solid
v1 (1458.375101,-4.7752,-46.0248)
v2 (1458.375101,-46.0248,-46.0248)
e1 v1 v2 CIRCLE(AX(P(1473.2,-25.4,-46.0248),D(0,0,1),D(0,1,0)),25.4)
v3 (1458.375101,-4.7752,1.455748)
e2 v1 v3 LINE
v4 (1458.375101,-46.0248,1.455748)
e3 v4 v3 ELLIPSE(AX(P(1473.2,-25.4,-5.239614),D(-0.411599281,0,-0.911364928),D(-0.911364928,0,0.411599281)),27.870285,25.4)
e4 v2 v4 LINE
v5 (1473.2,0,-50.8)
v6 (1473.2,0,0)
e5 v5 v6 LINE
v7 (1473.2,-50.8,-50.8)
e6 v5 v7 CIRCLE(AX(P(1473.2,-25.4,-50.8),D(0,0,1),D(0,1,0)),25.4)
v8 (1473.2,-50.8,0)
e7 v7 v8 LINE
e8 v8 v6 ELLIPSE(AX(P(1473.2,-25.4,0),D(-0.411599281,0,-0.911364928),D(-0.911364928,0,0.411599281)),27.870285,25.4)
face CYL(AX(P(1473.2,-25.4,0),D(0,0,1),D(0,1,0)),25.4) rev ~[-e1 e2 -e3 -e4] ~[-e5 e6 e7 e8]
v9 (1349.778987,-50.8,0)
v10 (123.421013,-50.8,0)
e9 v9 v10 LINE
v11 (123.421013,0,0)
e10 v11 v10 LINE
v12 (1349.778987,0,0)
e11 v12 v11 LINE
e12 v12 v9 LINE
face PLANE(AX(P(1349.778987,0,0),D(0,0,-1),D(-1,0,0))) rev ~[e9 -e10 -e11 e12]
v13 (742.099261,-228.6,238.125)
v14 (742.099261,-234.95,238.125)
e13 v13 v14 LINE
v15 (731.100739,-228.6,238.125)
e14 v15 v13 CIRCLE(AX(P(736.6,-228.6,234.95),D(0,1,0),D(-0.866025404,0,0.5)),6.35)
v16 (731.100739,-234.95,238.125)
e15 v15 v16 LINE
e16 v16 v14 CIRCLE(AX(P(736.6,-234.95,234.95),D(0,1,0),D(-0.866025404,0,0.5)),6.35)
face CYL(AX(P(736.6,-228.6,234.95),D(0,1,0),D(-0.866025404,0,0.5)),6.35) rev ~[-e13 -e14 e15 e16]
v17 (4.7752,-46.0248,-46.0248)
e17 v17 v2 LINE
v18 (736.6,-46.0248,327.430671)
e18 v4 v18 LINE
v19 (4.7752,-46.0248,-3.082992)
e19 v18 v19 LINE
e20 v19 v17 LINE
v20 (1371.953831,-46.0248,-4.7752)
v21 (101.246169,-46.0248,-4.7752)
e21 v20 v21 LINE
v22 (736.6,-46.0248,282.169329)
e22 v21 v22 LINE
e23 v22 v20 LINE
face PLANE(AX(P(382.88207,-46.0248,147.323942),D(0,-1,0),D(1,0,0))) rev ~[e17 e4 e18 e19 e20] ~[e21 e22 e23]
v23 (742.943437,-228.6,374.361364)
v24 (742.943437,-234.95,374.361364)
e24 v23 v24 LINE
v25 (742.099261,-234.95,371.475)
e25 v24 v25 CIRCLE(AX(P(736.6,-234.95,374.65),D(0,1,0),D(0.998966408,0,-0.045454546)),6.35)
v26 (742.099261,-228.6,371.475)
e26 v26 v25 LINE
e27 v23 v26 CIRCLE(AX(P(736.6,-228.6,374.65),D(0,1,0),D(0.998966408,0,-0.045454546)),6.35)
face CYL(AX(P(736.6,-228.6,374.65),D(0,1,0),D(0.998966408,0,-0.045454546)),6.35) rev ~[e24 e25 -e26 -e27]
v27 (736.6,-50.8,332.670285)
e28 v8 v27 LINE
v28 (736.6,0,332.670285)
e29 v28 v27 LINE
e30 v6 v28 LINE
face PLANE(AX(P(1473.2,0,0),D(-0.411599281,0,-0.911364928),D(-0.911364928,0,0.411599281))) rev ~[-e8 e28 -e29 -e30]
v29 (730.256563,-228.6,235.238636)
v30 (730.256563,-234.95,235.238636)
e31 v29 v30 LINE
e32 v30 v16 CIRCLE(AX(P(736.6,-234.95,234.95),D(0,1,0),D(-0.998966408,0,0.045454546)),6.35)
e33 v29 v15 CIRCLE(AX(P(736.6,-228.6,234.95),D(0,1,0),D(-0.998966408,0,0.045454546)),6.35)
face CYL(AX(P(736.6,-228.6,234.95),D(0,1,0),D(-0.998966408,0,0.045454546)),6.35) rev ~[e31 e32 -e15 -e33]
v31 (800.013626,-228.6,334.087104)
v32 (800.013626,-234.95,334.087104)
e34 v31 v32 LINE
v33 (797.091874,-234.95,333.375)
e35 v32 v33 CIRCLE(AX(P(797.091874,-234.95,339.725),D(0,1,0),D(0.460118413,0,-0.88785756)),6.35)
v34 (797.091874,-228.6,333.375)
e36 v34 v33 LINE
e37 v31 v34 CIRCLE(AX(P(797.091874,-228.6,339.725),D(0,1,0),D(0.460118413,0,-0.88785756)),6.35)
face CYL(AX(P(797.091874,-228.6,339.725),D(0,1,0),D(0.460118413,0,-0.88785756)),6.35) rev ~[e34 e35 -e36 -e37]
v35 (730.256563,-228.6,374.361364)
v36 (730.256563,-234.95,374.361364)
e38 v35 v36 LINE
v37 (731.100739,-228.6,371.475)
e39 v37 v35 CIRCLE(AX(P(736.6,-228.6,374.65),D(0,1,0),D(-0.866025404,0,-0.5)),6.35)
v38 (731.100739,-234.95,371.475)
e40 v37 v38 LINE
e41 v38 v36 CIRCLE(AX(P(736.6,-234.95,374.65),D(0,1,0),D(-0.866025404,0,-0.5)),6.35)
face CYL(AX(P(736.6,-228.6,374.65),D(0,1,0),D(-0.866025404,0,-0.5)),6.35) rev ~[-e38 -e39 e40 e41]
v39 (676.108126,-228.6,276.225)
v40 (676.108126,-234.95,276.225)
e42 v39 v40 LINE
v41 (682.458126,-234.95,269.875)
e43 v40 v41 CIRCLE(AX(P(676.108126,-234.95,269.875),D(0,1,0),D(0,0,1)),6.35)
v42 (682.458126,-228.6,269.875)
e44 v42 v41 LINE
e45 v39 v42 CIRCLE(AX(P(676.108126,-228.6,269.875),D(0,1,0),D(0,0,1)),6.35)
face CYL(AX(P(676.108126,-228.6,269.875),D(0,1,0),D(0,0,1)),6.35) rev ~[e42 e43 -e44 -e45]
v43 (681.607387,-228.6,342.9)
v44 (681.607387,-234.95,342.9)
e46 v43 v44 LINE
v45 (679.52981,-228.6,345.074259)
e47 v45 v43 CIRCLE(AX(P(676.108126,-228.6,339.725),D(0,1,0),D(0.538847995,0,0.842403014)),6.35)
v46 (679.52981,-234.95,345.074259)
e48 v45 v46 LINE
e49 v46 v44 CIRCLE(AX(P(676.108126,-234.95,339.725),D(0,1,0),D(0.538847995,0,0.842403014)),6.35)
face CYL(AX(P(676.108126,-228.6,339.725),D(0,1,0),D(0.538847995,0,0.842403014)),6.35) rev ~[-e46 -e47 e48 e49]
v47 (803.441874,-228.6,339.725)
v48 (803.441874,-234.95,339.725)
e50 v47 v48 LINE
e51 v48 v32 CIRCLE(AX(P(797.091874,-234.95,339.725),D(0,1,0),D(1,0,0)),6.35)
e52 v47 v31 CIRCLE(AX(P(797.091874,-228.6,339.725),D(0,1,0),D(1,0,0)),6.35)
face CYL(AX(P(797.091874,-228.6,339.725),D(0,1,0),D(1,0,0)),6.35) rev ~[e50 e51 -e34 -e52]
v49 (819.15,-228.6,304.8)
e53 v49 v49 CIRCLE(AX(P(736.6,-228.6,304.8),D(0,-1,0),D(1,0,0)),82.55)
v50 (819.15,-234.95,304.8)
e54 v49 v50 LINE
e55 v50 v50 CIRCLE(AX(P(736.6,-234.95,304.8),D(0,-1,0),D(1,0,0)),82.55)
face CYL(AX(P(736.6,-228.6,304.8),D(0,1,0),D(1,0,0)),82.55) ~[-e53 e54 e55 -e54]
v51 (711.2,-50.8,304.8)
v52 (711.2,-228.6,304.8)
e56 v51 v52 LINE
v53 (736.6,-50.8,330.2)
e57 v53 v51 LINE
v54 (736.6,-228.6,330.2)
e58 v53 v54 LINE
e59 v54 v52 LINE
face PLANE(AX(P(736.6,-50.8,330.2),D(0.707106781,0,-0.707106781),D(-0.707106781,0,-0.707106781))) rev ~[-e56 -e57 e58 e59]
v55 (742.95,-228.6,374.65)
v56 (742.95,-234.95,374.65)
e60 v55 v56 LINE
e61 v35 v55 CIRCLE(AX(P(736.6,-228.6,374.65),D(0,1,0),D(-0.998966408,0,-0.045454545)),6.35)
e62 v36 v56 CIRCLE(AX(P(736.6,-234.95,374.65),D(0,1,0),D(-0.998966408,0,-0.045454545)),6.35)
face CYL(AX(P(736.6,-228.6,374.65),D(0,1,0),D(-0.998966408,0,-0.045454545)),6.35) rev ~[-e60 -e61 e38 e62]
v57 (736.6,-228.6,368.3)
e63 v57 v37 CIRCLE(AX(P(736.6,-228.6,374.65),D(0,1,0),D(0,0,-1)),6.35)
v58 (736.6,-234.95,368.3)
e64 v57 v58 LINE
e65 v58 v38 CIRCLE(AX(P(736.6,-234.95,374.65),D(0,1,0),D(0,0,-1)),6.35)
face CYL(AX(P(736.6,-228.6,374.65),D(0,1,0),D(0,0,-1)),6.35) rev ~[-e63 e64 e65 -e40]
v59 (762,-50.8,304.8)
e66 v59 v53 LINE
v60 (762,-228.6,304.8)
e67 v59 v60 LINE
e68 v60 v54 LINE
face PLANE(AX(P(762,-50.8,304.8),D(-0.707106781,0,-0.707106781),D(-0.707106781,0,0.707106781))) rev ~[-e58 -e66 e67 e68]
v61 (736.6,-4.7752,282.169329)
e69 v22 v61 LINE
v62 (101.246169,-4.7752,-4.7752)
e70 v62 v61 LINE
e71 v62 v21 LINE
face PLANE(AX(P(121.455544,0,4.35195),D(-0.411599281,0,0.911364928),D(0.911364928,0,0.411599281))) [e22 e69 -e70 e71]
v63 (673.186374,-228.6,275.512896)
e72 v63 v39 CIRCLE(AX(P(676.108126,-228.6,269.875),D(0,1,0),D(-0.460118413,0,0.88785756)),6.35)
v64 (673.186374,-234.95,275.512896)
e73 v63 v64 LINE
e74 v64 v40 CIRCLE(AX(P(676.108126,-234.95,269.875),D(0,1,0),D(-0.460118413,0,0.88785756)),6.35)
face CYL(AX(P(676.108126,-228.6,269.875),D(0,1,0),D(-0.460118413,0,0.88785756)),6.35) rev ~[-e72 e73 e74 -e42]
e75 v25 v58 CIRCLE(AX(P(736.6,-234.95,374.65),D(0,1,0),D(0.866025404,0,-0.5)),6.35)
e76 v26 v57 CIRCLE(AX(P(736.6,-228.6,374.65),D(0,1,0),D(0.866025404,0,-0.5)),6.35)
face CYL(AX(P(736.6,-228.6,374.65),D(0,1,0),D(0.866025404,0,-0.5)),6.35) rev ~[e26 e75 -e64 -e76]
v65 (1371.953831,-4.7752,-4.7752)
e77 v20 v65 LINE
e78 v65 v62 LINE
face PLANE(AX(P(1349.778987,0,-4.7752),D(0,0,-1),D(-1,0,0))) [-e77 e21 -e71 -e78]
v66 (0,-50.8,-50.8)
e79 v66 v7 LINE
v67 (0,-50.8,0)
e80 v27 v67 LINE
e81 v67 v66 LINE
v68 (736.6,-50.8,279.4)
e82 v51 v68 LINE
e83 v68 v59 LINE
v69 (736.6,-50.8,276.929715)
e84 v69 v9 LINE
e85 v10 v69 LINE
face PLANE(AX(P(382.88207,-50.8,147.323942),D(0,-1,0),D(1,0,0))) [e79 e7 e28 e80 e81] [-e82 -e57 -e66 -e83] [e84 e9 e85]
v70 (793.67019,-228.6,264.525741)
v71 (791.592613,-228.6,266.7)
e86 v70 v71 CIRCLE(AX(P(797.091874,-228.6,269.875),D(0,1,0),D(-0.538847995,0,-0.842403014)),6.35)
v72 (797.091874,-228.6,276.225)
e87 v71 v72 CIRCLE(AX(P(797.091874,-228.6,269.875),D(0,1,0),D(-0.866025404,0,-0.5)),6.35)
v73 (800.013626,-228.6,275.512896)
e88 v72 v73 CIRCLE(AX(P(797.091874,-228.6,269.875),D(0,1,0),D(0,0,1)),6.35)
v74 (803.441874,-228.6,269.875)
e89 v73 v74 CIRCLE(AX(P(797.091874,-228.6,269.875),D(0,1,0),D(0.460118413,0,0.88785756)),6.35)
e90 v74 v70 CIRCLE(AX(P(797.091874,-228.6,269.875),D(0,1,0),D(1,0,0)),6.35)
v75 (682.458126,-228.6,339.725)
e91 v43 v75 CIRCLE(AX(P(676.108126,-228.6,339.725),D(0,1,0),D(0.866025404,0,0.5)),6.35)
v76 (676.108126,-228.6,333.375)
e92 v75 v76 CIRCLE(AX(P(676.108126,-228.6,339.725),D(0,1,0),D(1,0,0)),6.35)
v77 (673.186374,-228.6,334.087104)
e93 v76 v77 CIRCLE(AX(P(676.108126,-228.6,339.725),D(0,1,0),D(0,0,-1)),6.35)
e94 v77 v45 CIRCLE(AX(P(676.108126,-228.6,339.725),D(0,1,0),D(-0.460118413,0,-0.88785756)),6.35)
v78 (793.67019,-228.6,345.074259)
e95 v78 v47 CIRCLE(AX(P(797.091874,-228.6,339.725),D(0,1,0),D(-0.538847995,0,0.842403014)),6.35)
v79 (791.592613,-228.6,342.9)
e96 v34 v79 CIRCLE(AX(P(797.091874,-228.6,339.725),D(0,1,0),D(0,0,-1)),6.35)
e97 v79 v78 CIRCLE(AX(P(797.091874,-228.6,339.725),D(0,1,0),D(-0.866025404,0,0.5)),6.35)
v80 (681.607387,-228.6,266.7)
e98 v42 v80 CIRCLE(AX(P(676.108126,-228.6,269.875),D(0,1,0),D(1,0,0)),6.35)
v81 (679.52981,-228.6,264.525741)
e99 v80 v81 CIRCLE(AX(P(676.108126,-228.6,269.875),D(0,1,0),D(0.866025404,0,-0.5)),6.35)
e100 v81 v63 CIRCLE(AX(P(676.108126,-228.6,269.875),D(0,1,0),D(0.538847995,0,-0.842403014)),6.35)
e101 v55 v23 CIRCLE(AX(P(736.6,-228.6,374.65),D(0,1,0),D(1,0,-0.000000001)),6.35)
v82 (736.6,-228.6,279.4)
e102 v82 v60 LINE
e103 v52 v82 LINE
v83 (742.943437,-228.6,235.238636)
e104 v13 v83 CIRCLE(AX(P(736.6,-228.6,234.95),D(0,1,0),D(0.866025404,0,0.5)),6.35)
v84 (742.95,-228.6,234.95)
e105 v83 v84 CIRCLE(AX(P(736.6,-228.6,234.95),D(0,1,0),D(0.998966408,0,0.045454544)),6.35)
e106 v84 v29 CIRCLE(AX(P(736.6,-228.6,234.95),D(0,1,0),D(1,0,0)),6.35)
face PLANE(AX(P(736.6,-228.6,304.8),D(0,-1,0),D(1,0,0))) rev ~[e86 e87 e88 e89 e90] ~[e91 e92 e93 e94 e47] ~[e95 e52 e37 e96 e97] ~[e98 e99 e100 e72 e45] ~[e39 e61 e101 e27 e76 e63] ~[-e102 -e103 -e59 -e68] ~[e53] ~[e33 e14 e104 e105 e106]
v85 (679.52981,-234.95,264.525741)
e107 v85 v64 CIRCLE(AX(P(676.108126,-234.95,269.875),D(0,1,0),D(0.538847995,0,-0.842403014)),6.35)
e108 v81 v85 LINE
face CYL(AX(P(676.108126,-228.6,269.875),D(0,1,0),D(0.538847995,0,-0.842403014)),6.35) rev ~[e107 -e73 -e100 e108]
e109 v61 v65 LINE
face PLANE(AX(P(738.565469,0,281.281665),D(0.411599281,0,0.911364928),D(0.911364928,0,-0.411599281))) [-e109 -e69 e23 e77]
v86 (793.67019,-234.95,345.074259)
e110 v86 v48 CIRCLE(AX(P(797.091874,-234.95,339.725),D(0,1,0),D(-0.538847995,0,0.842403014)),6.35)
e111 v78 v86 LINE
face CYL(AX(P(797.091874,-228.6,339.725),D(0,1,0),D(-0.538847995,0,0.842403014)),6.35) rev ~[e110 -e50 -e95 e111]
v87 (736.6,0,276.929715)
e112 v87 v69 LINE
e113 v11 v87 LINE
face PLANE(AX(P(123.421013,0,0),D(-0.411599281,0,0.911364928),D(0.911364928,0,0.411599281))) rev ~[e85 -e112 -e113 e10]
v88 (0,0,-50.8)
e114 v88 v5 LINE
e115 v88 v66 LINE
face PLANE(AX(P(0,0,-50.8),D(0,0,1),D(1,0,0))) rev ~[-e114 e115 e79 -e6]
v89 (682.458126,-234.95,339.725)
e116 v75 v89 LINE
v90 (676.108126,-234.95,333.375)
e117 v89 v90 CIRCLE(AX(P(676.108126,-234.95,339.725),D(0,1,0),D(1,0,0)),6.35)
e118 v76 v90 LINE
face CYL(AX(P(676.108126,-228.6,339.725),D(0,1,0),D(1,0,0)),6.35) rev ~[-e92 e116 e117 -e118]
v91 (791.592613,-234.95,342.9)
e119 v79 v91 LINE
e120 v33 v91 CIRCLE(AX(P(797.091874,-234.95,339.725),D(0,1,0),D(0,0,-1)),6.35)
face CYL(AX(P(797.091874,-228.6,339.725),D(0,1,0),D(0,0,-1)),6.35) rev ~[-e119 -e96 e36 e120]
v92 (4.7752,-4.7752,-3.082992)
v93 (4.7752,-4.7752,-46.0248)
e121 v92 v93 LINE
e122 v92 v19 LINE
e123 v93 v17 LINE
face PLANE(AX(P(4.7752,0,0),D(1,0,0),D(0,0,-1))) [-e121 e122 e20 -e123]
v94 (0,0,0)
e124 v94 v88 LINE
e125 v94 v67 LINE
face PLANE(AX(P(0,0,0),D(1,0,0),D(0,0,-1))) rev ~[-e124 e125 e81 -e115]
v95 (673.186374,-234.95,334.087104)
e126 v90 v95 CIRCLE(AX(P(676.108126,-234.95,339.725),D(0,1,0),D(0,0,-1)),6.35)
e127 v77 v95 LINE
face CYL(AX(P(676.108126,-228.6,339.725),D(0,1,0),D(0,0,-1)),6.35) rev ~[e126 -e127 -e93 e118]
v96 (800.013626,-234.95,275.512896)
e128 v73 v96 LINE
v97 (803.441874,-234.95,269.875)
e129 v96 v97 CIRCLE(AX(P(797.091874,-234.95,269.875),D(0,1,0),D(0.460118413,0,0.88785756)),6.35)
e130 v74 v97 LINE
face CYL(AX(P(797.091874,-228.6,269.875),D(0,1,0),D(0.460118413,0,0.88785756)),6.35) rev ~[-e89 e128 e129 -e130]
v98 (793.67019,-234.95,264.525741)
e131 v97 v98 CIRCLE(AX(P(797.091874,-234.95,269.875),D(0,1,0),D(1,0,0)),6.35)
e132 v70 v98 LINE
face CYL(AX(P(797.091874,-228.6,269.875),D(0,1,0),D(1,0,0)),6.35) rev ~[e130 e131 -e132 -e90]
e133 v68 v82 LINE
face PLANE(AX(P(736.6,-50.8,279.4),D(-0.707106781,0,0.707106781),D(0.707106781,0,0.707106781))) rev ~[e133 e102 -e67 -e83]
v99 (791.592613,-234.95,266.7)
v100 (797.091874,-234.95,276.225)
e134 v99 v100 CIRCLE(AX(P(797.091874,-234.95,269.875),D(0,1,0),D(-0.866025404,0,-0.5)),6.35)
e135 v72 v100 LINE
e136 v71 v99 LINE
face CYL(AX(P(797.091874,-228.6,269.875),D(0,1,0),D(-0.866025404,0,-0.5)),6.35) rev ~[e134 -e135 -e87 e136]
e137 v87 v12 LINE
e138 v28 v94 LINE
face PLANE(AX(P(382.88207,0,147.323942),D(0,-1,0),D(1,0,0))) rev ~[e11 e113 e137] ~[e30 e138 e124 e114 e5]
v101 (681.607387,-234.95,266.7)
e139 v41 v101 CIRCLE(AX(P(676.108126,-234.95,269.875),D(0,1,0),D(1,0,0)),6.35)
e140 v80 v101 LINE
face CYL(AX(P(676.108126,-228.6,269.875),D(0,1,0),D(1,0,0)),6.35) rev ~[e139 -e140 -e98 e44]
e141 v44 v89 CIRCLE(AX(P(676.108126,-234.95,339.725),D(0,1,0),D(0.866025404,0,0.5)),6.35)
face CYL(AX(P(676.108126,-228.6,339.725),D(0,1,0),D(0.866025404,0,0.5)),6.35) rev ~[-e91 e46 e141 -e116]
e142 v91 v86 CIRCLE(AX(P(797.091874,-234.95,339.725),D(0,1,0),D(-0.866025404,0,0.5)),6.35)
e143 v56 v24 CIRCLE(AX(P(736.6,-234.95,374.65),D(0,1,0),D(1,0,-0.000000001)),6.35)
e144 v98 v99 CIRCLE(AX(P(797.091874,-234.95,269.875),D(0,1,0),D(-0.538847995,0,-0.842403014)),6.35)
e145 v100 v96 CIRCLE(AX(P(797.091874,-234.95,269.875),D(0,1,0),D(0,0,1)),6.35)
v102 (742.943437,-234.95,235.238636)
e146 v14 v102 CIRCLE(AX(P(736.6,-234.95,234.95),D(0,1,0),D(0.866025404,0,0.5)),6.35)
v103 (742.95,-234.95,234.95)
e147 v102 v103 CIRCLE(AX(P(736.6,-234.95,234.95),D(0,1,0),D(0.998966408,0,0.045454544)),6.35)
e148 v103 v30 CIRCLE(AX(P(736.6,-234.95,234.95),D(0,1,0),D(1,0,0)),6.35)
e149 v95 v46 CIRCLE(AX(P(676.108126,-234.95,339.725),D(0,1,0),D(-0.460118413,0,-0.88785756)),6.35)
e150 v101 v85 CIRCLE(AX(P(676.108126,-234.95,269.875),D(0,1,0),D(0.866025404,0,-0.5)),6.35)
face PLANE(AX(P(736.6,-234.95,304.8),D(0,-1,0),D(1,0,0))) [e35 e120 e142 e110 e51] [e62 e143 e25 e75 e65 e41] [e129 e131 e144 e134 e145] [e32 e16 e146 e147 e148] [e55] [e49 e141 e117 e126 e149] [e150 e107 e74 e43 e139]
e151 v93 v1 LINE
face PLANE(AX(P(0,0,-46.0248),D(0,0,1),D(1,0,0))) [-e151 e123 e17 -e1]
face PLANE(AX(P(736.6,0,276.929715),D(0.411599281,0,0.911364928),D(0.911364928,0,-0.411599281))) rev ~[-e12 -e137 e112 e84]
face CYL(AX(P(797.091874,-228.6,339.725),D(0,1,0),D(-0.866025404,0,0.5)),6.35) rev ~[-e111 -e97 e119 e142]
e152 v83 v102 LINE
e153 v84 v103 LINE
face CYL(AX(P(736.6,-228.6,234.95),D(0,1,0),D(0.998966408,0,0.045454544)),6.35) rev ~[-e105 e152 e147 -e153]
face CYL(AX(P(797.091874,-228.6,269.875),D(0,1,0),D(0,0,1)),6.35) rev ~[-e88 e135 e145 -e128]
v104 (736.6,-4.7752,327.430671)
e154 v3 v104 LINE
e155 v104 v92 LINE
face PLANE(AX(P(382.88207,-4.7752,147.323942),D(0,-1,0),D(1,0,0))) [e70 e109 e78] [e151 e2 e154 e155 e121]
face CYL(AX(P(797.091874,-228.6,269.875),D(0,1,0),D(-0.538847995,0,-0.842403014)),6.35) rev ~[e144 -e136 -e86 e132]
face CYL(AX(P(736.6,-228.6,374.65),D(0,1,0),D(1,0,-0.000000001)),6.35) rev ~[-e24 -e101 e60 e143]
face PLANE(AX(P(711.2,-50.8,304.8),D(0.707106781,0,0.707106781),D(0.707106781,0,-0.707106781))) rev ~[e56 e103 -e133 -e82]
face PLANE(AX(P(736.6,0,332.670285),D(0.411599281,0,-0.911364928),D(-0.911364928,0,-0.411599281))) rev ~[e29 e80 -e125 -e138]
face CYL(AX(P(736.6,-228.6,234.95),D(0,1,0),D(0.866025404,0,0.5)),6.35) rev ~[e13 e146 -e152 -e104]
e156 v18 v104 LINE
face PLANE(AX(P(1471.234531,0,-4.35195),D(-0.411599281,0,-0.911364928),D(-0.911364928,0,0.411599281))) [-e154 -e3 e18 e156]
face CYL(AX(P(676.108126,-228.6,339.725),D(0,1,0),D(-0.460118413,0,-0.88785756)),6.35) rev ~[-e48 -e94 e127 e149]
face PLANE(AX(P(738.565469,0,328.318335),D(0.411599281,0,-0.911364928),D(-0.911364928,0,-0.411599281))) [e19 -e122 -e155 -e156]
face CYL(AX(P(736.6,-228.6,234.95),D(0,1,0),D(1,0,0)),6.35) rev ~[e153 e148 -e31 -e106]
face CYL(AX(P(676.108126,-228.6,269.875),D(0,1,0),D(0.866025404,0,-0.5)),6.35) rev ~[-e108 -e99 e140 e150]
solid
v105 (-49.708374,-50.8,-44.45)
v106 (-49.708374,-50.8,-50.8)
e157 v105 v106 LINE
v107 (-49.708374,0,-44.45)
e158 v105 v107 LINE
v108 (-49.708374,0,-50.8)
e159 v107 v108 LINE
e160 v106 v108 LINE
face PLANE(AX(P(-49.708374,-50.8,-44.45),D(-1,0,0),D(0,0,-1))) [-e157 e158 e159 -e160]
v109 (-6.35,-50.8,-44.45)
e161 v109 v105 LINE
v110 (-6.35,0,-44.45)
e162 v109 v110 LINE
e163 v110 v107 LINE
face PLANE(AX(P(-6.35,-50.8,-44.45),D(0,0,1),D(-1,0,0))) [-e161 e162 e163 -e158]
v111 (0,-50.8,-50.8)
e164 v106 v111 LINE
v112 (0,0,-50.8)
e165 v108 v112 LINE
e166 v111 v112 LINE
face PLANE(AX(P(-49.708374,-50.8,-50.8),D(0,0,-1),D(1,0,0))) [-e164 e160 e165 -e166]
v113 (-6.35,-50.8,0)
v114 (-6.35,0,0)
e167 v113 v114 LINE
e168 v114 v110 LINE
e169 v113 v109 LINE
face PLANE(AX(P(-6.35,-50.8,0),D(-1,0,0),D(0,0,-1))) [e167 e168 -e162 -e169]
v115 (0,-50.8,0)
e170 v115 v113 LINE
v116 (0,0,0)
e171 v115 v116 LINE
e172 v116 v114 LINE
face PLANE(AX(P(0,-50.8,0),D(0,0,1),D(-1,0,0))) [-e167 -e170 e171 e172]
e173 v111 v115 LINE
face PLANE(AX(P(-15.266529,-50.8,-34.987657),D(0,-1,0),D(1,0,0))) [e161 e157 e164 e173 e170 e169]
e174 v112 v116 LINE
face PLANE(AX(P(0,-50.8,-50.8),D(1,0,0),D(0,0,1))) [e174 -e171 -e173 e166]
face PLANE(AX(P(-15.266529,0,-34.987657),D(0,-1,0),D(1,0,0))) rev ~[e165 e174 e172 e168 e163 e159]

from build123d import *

# Parameters (mm, degrees)
F1_DEPTH  = 50.8
F2_T      = -4.7752
F4_DEPTH  = 50.8
F6_DEPTH  = 177.8
F7_R      = 82.55
F8_DEPTH  = 6.35
F10_DEPTH = 50.8


with BuildPart() as f1:
    # F0 (on Front) → F1 (new body)
    with BuildSketch(Plane.XZ):
        Polygon((736.6, 332.6702846865), (0, 0), (123.4210126066, 0), (736.6, 276.9297153135), align=None)
        Polygon((1473.2, 0), (736.6, 332.6702846865), (736.6, 276.9297153135), (1349.7789873934, 0), align=None)
        Polygon((123.4210126066, 0), (0, 0), (0, -50.8), (1473.2, -50.8), (1473.2, 0), (1349.7789873934, 0), align=None)
    extrude(amount=F1_DEPTH)

    # F2
    f2_openings = [f1.faces().sort_by_distance(p)[0] for p in [
        (1473.2, -25.4, -25.4),
    ]]
    offset(amount=F2_T, openings=f2_openings, kind=Kind.INTERSECTION)

    # F3 (on Top) → F4 (cut, symmetric)
    with BuildSketch(Plane.XY):
        with BuildLine():
            ThreePointArc((1473.2, 0), (1447.8, -25.4), (1473.2, -50.8))
            Line((1473.2, -50.8), (1473.2, 0))
        make_face()
        with BuildLine():
            Line((1473.2, 0), (1473.2, -50.8))
            ThreePointArc((1473.2, -50.8), (1491.1605122421, -43.3605122421), (1498.6, -25.4))
            ThreePointArc((1498.6, -25.4), (1491.1605122421, -7.4394877579), (1473.2, 0))
        make_face()
    extrude(amount=F4_DEPTH, both=True, mode=Mode.SUBTRACT)

    # F5 (on face) → F6 (join)
    with BuildSketch(Plane.XZ.offset(50.8)):
        Polygon((736.6, 279.4), (736.6, 304.8), (711.2, 304.8), align=None)
        Polygon((711.2, 304.8), (736.6, 304.8), (736.6, 330.2), align=None)
        Polygon((736.6, 330.2), (736.6, 304.8), (762, 304.8), align=None)
        Polygon((762, 304.8), (736.6, 304.8), (736.6, 279.4), align=None)
    extrude(amount=F6_DEPTH)

    # F7 (on face) → F8 (join)
    with BuildSketch(Plane.XZ.offset(228.6)):
        with Locations((736.6, 304.8)):
            Circle(F7_R)
        with BuildLine():
            ThreePointArc((742.95, 374.65), (742.9483589606, 374.5056445122), (742.9434366908, 374.3613636364))
            ThreePointArc((742.9434366908, 374.3613636364), (771.525, 365.2918744543), (793.6701896856, 345.0742591397))
            ThreePointArc((793.6701896856, 345.0742591397), (800.141038415, 345.2950178762), (803.4418744543, 339.725))
            ThreePointArc((803.4418744543, 339.725), (802.5175368427, 336.4258050001), (800.0136263764, 334.0871044967))
            ThreePointArc((800.0136263764, 334.0871044967), (804.8219330655, 319.7930099982), (806.45, 304.8))
            ThreePointArc((806.45, 304.8), (804.8219330655, 289.8069900018), (800.0136263764, 275.5128955033))
            ThreePointArc((800.0136263764, 275.5128955033), (802.5175368427, 273.1741949999), (803.4418744543, 269.875))
            ThreePointArc((803.4418744543, 269.875), (800.141038415, 264.3049821238), (793.6701896856, 264.5257408603))
            ThreePointArc((793.6701896856, 264.5257408603), (771.525, 244.3081255457), (742.9434366908, 235.2386363636))
            ThreePointArc((742.9434366908, 235.2386363636), (742.9483589606, 235.0943554878), (742.95, 234.95))
            ThreePointArc((742.95, 234.95), (736.4556445122, 228.6016410394), (730.2565633092, 235.2386363636))
            ThreePointArc((730.2565633092, 235.2386363636), (701.675, 244.3081255457), (679.5298103144, 264.5257408603))
            ThreePointArc((679.5298103144, 264.5257408603), (670.6088642316, 266.7), (673.1863736236, 275.5128955033))
            ThreePointArc((673.1863736236, 275.5128955033), (666.75, 304.8), (673.1863736236, 334.0871044967))
            ThreePointArc((673.1863736236, 334.0871044967), (670.6088642316, 342.9), (679.5298103144, 345.0742591397))
            ThreePointArc((679.5298103144, 345.0742591397), (701.675, 365.2918744543), (730.2565633092, 374.3613636364))
            ThreePointArc((730.2565633092, 374.3613636364), (736.4556445122, 380.9983589606), (742.95, 374.65))
        make_face(mode=Mode.SUBTRACT)
        with BuildLine():
            ThreePointArc((742.099261314, 371.475), (739.775, 369.150738686), (736.6, 368.3))
            ThreePointArc((736.6, 368.3), (733.425, 369.150738686), (731.100738686, 371.475))
            Line((731.100738686, 371.475), (681.6073868597, 342.9))
            ThreePointArc((681.6073868597, 342.9), (682.2417545426, 341.3685009364), (682.4581255457, 339.725))
            ThreePointArc((682.4581255457, 339.725), (680.5982536062, 335.2348719395), (676.1081255457, 333.375))
            Line((676.1081255457, 333.375), (676.1081255457, 276.225))
            ThreePointArc((676.1081255457, 276.225), (680.5982536062, 274.3651280605), (682.4581255457, 269.875))
            ThreePointArc((682.4581255457, 269.875), (682.2417545426, 268.2314990636), (681.6073868597, 266.7))
            Line((681.6073868597, 266.7), (731.100738686, 238.125))
            ThreePointArc((731.100738686, 238.125), (736.6, 241.3), (742.099261314, 238.125))
            Line((742.099261314, 238.125), (791.5926131403, 266.7))
            ThreePointArc((791.5926131403, 266.7), (791.5926131403, 273.05), (797.0918744543, 276.225))
            Line((797.0918744543, 276.225), (797.0918744543, 333.375))
            ThreePointArc((797.0918744543, 333.375), (791.5926131403, 336.55), (791.5926131403, 342.9))
            Line((791.5926131403, 342.9), (742.099261314, 371.475))
        make_face()
        Polygon((736.6, 279.4), (711.2, 304.8), (736.6, 330.2), (762, 304.8), align=None, mode=Mode.SUBTRACT)
        Polygon((736.6, 330.2), (711.2, 304.8), (736.6, 279.4), (762, 304.8), align=None)
        with BuildLine():
            Line((681.6073868597, 342.9), (731.100738686, 371.475))
            ThreePointArc((731.100738686, 371.475), (730.5053180749, 372.867487102), (730.2565633092, 374.3613636364))
            ThreePointArc((730.2565633092, 374.3613636364), (701.675, 365.2918744543), (679.5298103144, 345.0742591397))
            ThreePointArc((679.5298103144, 345.0742591397), (680.6991679605, 344.1118929261), (681.6073868597, 342.9))
        make_face()
        with BuildLine():
            ThreePointArc((742.9434366908, 374.3613636364), (742.6946819251, 372.867487102), (742.099261314, 371.475))
            Line((742.099261314, 371.475), (791.5926131403, 342.9))
            ThreePointArc((791.5926131403, 342.9), (792.5008320395, 344.1118929261), (793.6701896856, 345.0742591397))
            ThreePointArc((793.6701896856, 345.0742591397), (771.525, 365.2918744543), (742.9434366908, 374.3613636364))
        make_face()
        with BuildLine():
            ThreePointArc((800.0136263764, 334.0871044967), (798.5955139647, 333.5555941759), (797.0918744543, 333.375))
            Line((797.0918744543, 333.375), (797.0918744543, 276.225))
            ThreePointArc((797.0918744543, 276.225), (798.5955139647, 276.0444058241), (800.0136263764, 275.5128955033))
            ThreePointArc((800.0136263764, 275.5128955033), (804.8219330655, 289.8069900018), (806.45, 304.8))
            ThreePointArc((806.45, 304.8), (804.8219330655, 319.7930099982), (800.0136263764, 334.0871044967))
        make_face()
        with BuildLine():
            ThreePointArc((793.6701896856, 264.5257408603), (792.5008320395, 265.4881070739), (791.5926131403, 266.7))
            Line((791.5926131403, 266.7), (742.099261314, 238.125))
            ThreePointArc((742.099261314, 238.125), (742.6946819251, 236.732512898), (742.9434366908, 235.2386363636))
            ThreePointArc((742.9434366908, 235.2386363636), (771.525, 244.3081255457), (793.6701896856, 264.5257408603))
        make_face()
        with BuildLine():
            ThreePointArc((681.6073868597, 266.7), (680.6991679605, 265.4881070739), (679.5298103144, 264.5257408603))
            ThreePointArc((679.5298103144, 264.5257408603), (701.675, 244.3081255457), (730.2565633092, 235.2386363636))
            ThreePointArc((730.2565633092, 235.2386363636), (730.5053180749, 236.732512898), (731.100738686, 238.125))
            Line((731.100738686, 238.125), (681.6073868597, 266.7))
        make_face()
        with BuildLine():
            ThreePointArc((676.1081255457, 333.375), (674.6044860353, 333.5555941759), (673.1863736236, 334.0871044967))
            ThreePointArc((673.1863736236, 334.0871044967), (666.75, 304.8), (673.1863736236, 275.5128955033))
            ThreePointArc((673.1863736236, 275.5128955033), (674.6044860353, 276.0444058241), (676.1081255457, 276.225))
            Line((676.1081255457, 276.225), (676.1081255457, 333.375))
        make_face()
    extrude(amount=F8_DEPTH)


with BuildPart() as f10:
    # F9 (on face) → F10 (new body)
    with BuildSketch(Plane.XZ.offset(50.8)):
        Polygon((-49.7083738446, -50.8), (0, -50.8), (0, 0), (-6.35, 0), (-6.35, -44.45), (-49.7083738446, -44.45), align=None)
    extrude(amount=-F10_DEPTH)


solid = Compound([f1.part, f10.part])
